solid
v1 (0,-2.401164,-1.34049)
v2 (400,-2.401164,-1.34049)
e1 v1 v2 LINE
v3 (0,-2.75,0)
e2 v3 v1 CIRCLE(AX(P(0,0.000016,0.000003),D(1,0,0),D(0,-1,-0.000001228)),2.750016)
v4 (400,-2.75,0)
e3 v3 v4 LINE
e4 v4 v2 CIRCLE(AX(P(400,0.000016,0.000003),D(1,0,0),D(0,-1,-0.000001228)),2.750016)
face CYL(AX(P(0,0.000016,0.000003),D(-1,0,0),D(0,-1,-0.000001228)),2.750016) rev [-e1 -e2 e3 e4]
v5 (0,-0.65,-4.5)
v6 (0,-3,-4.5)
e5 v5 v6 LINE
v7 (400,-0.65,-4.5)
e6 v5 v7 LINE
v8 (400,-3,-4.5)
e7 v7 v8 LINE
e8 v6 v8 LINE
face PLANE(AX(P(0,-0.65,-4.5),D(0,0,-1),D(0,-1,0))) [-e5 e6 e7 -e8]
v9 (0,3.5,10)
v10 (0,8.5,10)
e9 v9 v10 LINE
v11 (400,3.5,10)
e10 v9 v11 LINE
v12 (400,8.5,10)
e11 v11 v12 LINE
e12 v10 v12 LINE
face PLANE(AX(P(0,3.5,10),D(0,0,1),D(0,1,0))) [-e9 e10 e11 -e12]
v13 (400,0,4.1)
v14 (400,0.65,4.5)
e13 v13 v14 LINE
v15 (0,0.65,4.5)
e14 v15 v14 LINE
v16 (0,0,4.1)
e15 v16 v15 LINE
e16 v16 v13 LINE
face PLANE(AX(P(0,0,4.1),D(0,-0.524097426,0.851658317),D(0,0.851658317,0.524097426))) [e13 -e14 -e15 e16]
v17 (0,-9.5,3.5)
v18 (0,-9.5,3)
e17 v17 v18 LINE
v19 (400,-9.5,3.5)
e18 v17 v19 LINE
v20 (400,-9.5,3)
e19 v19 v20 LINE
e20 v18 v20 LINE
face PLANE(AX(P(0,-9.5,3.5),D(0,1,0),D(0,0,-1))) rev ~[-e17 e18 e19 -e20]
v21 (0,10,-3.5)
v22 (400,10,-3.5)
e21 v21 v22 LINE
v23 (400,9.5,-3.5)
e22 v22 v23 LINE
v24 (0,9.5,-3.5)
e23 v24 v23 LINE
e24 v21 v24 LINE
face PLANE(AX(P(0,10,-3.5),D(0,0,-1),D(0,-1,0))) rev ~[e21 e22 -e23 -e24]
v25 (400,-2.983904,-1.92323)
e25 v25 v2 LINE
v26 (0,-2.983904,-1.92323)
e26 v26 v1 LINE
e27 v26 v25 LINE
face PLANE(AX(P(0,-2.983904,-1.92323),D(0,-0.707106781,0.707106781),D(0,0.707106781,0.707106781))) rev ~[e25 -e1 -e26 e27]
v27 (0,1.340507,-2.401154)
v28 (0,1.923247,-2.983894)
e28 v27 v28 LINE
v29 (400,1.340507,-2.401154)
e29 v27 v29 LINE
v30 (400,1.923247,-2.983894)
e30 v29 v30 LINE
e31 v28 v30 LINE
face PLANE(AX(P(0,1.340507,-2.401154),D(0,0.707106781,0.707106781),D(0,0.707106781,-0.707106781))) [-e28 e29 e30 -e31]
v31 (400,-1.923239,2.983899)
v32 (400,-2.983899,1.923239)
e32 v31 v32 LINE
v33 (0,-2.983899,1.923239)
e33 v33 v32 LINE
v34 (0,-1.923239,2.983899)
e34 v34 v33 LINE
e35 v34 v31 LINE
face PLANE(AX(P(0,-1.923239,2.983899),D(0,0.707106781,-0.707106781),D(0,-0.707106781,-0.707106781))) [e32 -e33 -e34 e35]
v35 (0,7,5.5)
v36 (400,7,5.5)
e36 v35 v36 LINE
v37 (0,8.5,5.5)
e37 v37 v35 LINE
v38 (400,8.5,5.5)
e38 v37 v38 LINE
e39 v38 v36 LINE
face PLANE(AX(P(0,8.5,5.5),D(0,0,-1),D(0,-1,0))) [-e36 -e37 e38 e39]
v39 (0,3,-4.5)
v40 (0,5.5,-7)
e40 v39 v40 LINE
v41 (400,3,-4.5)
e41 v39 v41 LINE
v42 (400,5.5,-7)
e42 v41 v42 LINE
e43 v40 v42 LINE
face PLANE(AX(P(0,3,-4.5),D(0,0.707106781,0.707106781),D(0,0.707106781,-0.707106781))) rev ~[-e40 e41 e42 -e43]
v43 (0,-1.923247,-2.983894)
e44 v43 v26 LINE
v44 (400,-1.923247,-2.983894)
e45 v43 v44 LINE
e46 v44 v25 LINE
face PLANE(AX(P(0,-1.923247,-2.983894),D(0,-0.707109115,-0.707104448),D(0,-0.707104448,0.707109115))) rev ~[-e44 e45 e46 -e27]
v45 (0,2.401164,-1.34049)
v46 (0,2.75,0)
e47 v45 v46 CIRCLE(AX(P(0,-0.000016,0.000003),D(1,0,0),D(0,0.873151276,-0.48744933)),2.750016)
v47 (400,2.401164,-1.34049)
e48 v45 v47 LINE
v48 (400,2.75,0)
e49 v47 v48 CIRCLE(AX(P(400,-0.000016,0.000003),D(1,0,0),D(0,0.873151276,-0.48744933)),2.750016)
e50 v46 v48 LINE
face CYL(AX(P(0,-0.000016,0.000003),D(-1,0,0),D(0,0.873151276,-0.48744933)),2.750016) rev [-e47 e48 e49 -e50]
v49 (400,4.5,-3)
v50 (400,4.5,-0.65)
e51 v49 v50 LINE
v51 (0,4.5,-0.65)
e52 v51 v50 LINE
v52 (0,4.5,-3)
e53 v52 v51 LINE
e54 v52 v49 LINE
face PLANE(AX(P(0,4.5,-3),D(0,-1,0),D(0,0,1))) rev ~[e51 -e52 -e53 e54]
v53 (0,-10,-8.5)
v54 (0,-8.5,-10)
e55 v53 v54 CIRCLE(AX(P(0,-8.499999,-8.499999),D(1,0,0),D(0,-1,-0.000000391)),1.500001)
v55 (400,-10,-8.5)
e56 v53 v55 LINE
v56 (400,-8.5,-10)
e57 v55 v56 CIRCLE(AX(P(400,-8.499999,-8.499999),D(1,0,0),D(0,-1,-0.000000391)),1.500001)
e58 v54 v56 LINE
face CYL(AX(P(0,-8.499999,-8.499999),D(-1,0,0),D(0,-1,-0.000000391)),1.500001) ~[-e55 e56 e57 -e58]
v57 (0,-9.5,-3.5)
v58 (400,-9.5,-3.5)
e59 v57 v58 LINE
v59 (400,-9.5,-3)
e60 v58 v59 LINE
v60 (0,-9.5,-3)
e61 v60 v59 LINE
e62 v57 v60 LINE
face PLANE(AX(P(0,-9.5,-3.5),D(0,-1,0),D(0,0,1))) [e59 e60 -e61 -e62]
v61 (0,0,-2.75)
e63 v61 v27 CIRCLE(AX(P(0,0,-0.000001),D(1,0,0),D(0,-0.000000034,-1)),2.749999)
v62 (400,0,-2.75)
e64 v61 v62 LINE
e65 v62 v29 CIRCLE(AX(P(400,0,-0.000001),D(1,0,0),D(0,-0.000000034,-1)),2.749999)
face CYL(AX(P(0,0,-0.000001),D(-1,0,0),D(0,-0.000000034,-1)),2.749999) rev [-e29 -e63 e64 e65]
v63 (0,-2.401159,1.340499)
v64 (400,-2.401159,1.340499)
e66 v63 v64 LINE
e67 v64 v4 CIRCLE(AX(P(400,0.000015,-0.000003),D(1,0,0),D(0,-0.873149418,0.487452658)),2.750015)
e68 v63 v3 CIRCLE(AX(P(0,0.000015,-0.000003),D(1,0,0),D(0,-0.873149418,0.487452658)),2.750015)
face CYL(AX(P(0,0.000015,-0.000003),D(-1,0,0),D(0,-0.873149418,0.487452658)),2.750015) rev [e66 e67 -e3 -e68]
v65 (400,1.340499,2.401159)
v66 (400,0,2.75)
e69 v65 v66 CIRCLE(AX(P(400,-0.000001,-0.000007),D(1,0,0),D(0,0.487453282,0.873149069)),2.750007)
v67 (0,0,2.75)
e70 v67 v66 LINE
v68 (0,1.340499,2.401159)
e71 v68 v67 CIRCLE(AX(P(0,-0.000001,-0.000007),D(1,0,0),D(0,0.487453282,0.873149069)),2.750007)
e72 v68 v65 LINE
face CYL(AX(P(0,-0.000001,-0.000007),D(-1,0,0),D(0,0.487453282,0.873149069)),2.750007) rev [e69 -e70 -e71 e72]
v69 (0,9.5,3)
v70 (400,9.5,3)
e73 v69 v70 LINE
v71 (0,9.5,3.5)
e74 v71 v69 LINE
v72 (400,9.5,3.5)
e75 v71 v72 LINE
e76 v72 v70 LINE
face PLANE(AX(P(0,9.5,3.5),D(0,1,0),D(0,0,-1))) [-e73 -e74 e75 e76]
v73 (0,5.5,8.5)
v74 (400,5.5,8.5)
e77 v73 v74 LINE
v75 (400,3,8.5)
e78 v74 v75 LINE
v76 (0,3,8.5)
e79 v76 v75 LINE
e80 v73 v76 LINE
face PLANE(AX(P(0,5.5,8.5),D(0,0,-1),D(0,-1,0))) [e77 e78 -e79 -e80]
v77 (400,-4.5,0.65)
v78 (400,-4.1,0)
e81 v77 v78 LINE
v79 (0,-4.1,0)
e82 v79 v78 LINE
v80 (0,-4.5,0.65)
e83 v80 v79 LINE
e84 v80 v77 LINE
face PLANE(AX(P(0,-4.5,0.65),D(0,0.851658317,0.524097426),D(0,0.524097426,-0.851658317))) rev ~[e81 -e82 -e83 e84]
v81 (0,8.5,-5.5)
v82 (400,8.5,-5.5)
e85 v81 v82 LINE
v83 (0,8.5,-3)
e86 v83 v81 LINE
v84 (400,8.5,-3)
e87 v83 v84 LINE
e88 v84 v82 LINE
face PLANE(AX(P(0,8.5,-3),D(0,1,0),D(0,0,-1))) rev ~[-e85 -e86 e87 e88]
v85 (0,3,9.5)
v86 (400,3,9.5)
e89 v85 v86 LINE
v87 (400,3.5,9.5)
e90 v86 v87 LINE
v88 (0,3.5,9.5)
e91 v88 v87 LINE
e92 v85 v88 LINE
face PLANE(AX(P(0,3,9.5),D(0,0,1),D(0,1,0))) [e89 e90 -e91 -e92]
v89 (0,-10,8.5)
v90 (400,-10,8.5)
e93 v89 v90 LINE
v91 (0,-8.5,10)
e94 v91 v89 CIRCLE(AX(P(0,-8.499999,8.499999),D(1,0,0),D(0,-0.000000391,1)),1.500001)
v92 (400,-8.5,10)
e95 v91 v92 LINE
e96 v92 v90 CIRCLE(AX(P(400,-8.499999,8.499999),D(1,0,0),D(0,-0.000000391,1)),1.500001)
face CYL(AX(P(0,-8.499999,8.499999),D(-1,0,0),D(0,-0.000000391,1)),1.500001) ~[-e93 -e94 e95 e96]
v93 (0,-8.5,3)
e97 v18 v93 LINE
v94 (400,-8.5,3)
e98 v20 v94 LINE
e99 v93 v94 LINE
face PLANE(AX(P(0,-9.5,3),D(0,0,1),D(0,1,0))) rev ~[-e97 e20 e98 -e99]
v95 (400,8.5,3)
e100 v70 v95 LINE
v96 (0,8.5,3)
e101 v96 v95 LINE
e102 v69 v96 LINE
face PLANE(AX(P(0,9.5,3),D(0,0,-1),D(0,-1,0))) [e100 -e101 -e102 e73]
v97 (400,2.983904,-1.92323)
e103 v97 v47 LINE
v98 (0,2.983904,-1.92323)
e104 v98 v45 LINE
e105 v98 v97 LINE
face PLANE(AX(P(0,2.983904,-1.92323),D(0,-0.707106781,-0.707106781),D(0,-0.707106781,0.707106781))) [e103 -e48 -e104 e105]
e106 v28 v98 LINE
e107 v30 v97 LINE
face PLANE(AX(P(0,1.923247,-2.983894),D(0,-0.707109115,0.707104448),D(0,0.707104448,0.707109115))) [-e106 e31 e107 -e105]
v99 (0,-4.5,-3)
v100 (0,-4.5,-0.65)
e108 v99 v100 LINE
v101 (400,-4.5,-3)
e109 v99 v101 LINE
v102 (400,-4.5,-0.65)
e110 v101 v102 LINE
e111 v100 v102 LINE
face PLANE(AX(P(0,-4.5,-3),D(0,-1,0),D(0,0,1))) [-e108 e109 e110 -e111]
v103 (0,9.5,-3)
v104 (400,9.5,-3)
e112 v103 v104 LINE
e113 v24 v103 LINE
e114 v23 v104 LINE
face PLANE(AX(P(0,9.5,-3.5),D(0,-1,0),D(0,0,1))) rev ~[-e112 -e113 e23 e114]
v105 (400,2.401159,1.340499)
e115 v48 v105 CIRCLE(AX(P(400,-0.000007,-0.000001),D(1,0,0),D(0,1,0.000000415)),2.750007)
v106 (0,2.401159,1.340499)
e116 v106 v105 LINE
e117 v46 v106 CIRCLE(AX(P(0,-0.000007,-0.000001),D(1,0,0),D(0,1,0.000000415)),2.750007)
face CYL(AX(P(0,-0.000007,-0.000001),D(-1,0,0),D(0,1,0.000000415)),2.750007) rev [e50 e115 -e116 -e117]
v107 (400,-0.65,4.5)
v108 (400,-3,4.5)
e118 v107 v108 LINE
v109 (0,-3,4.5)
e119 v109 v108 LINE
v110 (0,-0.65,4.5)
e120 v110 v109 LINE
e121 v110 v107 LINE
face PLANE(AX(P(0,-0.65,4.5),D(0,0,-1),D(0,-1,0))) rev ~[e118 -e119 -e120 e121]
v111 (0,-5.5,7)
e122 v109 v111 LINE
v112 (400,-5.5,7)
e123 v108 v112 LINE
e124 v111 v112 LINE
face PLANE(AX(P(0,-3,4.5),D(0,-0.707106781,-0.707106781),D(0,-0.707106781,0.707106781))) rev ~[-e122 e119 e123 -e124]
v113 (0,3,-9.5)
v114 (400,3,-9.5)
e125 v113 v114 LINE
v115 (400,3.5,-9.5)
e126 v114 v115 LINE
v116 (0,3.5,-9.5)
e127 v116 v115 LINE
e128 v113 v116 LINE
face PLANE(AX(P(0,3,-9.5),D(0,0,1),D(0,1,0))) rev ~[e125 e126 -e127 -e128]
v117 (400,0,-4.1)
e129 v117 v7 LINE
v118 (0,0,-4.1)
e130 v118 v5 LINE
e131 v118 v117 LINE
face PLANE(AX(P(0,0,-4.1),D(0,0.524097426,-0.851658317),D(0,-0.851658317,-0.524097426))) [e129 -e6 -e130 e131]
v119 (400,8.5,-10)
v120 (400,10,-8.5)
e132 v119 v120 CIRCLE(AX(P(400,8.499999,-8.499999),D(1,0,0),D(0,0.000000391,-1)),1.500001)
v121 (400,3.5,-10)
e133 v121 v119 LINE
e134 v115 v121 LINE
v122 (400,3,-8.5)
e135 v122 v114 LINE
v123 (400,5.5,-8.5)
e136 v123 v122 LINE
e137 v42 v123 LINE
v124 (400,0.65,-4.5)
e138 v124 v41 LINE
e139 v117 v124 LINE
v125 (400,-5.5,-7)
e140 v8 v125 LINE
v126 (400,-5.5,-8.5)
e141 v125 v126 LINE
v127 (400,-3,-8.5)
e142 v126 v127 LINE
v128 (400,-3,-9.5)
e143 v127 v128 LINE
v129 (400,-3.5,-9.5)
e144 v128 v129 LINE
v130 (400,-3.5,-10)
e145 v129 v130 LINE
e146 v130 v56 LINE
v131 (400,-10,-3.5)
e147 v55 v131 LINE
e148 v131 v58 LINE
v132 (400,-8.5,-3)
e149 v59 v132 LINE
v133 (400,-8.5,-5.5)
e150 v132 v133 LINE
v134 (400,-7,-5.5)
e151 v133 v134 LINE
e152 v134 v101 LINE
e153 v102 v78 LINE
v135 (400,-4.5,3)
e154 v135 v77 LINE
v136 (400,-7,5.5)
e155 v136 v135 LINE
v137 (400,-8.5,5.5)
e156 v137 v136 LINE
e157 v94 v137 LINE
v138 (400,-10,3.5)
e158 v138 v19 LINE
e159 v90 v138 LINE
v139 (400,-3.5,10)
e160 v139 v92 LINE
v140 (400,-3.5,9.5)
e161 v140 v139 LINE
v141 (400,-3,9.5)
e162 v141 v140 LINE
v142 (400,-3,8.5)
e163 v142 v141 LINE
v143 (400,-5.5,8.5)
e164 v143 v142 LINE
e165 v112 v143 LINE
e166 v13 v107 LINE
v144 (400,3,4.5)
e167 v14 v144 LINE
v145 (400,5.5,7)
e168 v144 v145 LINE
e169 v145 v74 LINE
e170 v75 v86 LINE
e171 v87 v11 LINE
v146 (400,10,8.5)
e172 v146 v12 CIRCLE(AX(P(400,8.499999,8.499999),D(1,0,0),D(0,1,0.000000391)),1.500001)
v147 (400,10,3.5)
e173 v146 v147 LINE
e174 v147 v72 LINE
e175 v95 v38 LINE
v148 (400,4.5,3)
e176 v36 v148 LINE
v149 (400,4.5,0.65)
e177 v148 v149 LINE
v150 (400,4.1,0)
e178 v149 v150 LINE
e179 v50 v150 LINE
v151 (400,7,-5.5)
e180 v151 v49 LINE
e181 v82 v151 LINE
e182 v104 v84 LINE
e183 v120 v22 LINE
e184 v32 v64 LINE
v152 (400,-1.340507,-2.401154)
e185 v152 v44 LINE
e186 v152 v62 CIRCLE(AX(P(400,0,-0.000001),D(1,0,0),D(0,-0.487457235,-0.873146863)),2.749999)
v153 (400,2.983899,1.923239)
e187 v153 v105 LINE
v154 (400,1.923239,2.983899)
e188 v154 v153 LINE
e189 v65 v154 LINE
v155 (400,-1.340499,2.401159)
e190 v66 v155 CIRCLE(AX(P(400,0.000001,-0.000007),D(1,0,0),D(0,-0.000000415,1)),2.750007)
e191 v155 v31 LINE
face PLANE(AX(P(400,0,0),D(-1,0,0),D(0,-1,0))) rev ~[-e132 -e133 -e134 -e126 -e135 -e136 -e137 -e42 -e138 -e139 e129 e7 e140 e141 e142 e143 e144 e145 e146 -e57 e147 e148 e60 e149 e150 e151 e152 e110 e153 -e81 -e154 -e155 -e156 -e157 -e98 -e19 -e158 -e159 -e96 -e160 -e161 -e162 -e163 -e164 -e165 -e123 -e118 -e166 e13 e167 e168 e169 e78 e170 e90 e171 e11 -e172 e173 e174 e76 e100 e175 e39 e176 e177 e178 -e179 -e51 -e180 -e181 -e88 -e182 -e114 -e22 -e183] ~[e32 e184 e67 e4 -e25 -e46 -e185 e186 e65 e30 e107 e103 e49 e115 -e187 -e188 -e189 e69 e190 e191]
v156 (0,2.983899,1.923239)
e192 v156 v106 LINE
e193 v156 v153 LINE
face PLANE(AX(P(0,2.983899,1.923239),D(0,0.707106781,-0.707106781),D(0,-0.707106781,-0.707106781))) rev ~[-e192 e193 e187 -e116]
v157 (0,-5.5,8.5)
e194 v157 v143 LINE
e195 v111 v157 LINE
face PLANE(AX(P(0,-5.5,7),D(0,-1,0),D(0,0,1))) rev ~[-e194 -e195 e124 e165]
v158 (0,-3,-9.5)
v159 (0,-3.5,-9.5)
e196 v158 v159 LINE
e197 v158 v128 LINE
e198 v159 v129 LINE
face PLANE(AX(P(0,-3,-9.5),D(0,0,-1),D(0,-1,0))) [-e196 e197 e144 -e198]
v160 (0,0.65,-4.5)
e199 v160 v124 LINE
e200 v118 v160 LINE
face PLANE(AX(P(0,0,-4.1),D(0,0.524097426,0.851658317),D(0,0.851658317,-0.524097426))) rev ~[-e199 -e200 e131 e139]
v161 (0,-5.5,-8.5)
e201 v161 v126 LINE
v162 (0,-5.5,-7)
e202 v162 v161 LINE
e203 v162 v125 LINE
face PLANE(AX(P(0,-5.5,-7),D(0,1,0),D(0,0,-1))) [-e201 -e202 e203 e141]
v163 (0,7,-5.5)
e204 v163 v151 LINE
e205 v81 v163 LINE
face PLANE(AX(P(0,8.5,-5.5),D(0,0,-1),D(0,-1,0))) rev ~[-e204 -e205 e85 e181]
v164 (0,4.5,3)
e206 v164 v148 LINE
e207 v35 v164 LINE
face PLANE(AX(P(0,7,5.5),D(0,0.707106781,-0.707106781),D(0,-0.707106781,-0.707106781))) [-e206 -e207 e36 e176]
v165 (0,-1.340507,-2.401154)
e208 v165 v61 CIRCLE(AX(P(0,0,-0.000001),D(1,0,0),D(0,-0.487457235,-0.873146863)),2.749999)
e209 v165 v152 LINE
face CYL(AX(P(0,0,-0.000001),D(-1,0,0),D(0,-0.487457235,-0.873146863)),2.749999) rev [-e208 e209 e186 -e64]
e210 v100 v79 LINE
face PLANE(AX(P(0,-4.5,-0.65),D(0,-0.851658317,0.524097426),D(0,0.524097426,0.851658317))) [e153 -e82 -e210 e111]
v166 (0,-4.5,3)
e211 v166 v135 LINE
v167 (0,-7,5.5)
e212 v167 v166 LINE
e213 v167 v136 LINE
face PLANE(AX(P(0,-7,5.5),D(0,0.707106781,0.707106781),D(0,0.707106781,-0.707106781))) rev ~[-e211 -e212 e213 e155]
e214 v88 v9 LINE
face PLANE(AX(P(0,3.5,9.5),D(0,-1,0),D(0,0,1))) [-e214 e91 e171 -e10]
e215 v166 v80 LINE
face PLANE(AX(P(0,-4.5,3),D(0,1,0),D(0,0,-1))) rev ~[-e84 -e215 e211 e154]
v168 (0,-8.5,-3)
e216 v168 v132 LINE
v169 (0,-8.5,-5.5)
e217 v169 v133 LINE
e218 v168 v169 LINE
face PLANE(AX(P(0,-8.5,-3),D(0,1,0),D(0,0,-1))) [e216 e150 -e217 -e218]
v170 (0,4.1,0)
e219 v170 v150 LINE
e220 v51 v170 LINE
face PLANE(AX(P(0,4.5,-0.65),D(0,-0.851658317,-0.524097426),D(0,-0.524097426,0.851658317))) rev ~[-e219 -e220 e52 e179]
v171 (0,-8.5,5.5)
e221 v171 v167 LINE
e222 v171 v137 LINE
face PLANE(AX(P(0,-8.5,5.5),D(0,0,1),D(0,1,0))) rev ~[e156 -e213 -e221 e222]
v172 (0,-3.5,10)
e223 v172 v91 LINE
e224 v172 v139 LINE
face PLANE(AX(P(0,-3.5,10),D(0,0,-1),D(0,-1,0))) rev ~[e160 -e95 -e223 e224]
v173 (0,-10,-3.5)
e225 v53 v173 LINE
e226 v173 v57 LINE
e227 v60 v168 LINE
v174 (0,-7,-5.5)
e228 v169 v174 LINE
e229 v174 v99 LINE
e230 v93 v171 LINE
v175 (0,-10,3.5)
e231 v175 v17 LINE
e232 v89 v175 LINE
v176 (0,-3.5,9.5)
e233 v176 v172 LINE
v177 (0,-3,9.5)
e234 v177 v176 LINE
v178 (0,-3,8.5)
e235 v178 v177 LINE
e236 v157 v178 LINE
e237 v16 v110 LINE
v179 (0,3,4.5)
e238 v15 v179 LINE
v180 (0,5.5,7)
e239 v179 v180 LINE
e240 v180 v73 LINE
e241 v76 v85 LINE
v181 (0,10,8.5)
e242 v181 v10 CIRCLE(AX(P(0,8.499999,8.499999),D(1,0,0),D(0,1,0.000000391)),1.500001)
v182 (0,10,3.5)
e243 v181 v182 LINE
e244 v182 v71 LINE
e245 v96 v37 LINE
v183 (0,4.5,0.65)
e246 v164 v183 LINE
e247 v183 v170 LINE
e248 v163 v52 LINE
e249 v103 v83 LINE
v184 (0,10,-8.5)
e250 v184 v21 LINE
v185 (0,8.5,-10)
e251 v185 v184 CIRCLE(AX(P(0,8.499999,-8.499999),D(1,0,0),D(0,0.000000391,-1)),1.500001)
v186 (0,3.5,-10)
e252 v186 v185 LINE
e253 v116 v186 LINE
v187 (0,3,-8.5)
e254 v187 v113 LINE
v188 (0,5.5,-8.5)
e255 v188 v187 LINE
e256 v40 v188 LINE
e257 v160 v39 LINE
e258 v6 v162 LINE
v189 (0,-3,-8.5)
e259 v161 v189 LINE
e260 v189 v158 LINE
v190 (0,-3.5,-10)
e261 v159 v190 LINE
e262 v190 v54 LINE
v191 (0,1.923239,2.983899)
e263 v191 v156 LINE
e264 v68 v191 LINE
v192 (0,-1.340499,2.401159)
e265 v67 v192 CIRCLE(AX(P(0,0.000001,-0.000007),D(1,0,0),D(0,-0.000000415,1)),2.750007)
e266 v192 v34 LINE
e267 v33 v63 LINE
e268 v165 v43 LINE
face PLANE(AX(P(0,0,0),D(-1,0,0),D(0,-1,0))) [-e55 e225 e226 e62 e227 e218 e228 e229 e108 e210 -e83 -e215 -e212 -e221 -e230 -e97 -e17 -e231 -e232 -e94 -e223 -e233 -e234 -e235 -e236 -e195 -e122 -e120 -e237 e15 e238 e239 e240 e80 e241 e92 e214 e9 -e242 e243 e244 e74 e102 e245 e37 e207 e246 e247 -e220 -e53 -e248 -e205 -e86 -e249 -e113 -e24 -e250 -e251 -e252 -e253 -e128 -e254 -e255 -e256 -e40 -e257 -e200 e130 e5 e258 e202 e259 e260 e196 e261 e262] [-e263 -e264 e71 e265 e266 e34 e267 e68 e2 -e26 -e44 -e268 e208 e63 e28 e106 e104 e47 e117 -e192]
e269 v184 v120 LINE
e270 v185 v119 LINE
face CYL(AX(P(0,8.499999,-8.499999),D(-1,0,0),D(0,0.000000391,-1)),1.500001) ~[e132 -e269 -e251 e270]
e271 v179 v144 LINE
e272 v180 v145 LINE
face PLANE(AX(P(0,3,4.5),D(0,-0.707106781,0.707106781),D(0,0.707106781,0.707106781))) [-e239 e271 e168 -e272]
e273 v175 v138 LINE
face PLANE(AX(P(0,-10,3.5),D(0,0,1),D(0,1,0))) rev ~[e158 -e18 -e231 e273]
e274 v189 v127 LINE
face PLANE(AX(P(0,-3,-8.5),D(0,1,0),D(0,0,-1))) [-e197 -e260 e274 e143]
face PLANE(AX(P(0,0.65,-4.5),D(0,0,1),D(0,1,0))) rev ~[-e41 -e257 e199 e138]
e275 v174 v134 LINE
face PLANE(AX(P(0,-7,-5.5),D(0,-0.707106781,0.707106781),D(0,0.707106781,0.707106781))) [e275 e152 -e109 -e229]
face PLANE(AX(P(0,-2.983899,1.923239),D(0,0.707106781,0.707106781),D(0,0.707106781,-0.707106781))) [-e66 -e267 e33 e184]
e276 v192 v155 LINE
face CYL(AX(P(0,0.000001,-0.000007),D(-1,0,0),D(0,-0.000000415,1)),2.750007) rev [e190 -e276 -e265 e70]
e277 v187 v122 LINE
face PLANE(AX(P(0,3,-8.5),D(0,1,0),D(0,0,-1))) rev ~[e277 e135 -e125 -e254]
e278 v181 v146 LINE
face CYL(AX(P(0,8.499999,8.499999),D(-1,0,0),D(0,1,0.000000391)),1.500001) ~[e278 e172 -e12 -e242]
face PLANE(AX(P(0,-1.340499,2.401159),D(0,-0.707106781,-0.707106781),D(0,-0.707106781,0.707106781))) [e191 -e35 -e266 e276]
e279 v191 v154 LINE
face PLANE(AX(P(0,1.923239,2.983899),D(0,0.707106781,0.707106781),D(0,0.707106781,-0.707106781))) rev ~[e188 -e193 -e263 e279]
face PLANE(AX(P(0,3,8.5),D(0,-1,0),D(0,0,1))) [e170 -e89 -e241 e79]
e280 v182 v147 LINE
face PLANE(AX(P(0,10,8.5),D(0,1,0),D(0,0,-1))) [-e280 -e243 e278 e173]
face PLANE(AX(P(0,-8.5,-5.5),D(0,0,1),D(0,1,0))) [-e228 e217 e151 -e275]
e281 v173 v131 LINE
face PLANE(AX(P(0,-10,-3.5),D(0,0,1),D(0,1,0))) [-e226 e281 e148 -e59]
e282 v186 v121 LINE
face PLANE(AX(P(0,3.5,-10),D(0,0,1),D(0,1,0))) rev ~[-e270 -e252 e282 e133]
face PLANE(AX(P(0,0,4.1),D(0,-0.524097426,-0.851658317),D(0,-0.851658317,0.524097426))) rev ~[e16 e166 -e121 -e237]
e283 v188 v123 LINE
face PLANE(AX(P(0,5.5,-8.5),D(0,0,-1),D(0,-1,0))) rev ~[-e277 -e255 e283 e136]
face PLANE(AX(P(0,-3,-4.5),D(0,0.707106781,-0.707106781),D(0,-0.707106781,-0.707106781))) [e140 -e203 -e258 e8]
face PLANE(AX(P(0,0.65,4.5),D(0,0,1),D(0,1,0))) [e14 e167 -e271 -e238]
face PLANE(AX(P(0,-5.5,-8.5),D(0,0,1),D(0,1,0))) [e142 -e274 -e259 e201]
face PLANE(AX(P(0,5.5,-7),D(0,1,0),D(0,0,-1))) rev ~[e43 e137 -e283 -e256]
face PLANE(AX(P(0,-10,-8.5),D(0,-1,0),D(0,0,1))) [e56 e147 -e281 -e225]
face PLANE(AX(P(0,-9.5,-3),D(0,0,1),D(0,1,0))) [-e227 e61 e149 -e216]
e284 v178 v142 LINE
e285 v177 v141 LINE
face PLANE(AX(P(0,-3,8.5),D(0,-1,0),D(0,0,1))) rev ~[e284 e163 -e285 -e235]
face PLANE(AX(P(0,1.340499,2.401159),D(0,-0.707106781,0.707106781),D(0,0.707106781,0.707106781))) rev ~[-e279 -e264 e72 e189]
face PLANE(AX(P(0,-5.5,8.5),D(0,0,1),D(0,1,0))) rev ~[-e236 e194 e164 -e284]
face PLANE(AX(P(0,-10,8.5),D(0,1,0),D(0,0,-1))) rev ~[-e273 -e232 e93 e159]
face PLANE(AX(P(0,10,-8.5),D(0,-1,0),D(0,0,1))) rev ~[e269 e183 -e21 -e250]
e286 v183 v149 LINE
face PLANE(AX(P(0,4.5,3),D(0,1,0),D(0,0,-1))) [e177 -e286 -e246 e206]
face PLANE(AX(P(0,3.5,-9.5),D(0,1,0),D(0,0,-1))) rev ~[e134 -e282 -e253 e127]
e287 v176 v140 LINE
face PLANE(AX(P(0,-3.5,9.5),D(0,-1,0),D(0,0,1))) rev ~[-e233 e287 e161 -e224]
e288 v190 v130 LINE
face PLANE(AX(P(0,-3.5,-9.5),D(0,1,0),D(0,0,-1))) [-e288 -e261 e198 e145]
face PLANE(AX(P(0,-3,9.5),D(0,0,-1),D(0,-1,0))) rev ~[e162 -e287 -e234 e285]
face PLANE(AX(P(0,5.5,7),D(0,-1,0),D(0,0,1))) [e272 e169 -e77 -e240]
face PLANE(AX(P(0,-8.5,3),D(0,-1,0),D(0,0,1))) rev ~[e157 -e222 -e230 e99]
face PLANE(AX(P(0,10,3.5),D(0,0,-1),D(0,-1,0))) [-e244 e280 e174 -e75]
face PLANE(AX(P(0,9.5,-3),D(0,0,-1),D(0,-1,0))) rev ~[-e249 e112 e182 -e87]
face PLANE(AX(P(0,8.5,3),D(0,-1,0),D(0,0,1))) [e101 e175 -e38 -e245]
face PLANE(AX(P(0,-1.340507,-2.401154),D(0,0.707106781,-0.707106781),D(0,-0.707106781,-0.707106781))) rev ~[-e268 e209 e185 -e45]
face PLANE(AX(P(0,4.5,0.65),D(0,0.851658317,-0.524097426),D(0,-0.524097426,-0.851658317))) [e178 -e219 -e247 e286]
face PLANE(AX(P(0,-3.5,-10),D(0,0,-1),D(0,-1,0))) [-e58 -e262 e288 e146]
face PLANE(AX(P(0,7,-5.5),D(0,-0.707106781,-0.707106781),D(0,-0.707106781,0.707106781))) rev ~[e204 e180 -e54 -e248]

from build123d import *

# Parameters (mm, degrees)
PAD_DEPTH = 400


with BuildPart() as part:
    # Sketch → Pad (new body)
    with BuildSketch(Plane.YZ):
        with BuildLine():
            Line((0, 4.1), (0.65, 4.5))
            Line((0.65, 4.5), (3, 4.5))
            Line((3, 4.5), (5.5, 7))
            Line((5.5, 7), (5.5, 8.5))
            Line((5.5, 8.5), (3, 8.5))
            Line((3, 8.5), (3, 9.5))
            Line((3, 9.5), (3.5, 9.5))
            Line((3.5, 9.5), (3.5, 10))
            Line((3.5, 10), (8.5, 10))
            ThreePointArc((10, 8.5), (9.56066, 9.56066), (8.5, 10))
            Line((10, 8.5), (10, 3.5))
            Line((10, 3.5), (9.5, 3.5))
            Line((9.5, 3.5), (9.5, 3))
            Line((9.5, 3), (8.5, 3))
            Line((8.5, 3), (8.5, 5.5))
            Line((8.5, 5.5), (7, 5.5))
            Line((7, 5.5), (4.5, 3))
            Line((4.5, 3), (4.5, 0.65))
            Line((4.5, 0.65), (4.1, 0))
            Line((4.5, -0.65), (4.1, 0))
            Line((4.5, -3), (4.5, -0.65))
            Line((7, -5.5), (4.5, -3))
            Line((8.5, -5.5), (7, -5.5))
            Line((8.5, -3), (8.5, -5.5))
            Line((9.5, -3), (8.5, -3))
            Line((9.5, -3.5), (9.5, -3))
            Line((10, -3.5), (9.5, -3.5))
            Line((10, -8.5), (10, -3.5))
            ThreePointArc((8.5, -10), (9.56066, -9.56066), (10, -8.5))
            Line((3.5, -10), (8.5, -10))
            Line((3.5, -9.5), (3.5, -10))
            Line((3, -9.5), (3.5, -9.5))
            Line((3, -8.5), (3, -9.5))
            Line((5.5, -8.5), (3, -8.5))
            Line((5.5, -7), (5.5, -8.5))
            Line((3, -4.5), (5.5, -7))
            Line((0.65, -4.5), (3, -4.5))
            Line((0, -4.1), (0.65, -4.5))
            Line((0, -4.1), (-0.65, -4.5))
            Line((-0.65, -4.5), (-3, -4.5))
            Line((-3, -4.5), (-5.5, -7))
            Line((-5.5, -7), (-5.5, -8.5))
            Line((-5.5, -8.5), (-3, -8.5))
            Line((-3, -8.5), (-3, -9.5))
            Line((-3, -9.5), (-3.5, -9.5))
            Line((-3.5, -9.5), (-3.5, -10))
            Line((-3.5, -10), (-8.5, -10))
            ThreePointArc((-10, -8.5), (-9.56066, -9.56066), (-8.5, -10))
            Line((-10, -8.5), (-10, -3.5))
            Line((-10, -3.5), (-9.5, -3.5))
            Line((-9.5, -3.5), (-9.5, -3))
            Line((-9.5, -3), (-8.5, -3))
            Line((-8.5, -3), (-8.5, -5.5))
            Line((-8.5, -5.5), (-7, -5.5))
            Line((-7, -5.5), (-4.5, -3))
            Line((-4.5, -3), (-4.5, -0.65))
            Line((-4.5, -0.65), (-4.1, 0))
            Line((-4.5, 0.65), (-4.1, 0))
            Line((-4.5, 3), (-4.5, 0.65))
            Line((-7, 5.5), (-4.5, 3))
            Line((-8.5, 5.5), (-7, 5.5))
            Line((-8.5, 3), (-8.5, 5.5))
            Line((-9.5, 3), (-8.5, 3))
            Line((-9.5, 3.5), (-9.5, 3))
            Line((-10, 3.5), (-9.5, 3.5))
            Line((-10, 8.5), (-10, 3.5))
            ThreePointArc((-8.5, 10), (-9.56066, 9.56066), (-10, 8.5))
            Line((-3.5, 10), (-8.5, 10))
            Line((-3.5, 9.5), (-3.5, 10))
            Line((-3, 9.5), (-3.5, 9.5))
            Line((-3, 8.5), (-3, 9.5))
            Line((-5.5, 8.5), (-3, 8.5))
            Line((-5.5, 7), (-5.5, 8.5))
            Line((-3, 4.5), (-5.5, 7))
            Line((-0.65, 4.5), (-3, 4.5))
            Line((0, 4.1), (-0.65, 4.5))
        make_face()
        with BuildLine():
            Line((1.340499, 2.401159), (1.923239, 2.983899))
            Line((1.923239, 2.983899), (2.983899, 1.923239))
            Line((2.983899, 1.923239), (2.401159, 1.340499))
            ThreePointArc((2.75, 0), (2.661361, 0.692573), (2.401159, 1.340499))
            ThreePointArc((2.401164, -1.34049), (2.661362, -0.692568), (2.75, 0))
            Line((2.983904, -1.92323), (2.401164, -1.34049))
            Line((1.923247, -2.983894), (2.983904, -1.92323))
            Line((1.340507, -2.401154), (1.923247, -2.983894))
            ThreePointArc((0, -2.75), (0.692577, -2.66136), (1.340507, -2.401154))
            ThreePointArc((-1.340507, -2.401154), (-0.692577, -2.66136), (0, -2.75))
            Line((-1.340507, -2.401154), (-1.923247, -2.983894))
            Line((-1.923247, -2.983894), (-2.983904, -1.92323))
            Line((-2.983904, -1.92323), (-2.401164, -1.34049))
            ThreePointArc((-2.75, 0), (-2.661362, -0.692568), (-2.401164, -1.34049))
            ThreePointArc((-2.401159, 1.340499), (-2.661361, 0.692572), (-2.75, 0))
            Line((-2.983899, 1.923239), (-2.401159, 1.340499))
            Line((-1.923239, 2.983899), (-2.983899, 1.923239))
            Line((-1.340499, 2.401159), (-1.923239, 2.983899))
            ThreePointArc((0, 2.75), (-0.692573, 2.661361), (-1.340499, 2.401159))
            ThreePointArc((1.340499, 2.401159), (0.692573, 2.661361), (0, 2.75))
        make_face(mode=Mode.SUBTRACT)
    extrude(amount=PAD_DEPTH)


solid = part.part
